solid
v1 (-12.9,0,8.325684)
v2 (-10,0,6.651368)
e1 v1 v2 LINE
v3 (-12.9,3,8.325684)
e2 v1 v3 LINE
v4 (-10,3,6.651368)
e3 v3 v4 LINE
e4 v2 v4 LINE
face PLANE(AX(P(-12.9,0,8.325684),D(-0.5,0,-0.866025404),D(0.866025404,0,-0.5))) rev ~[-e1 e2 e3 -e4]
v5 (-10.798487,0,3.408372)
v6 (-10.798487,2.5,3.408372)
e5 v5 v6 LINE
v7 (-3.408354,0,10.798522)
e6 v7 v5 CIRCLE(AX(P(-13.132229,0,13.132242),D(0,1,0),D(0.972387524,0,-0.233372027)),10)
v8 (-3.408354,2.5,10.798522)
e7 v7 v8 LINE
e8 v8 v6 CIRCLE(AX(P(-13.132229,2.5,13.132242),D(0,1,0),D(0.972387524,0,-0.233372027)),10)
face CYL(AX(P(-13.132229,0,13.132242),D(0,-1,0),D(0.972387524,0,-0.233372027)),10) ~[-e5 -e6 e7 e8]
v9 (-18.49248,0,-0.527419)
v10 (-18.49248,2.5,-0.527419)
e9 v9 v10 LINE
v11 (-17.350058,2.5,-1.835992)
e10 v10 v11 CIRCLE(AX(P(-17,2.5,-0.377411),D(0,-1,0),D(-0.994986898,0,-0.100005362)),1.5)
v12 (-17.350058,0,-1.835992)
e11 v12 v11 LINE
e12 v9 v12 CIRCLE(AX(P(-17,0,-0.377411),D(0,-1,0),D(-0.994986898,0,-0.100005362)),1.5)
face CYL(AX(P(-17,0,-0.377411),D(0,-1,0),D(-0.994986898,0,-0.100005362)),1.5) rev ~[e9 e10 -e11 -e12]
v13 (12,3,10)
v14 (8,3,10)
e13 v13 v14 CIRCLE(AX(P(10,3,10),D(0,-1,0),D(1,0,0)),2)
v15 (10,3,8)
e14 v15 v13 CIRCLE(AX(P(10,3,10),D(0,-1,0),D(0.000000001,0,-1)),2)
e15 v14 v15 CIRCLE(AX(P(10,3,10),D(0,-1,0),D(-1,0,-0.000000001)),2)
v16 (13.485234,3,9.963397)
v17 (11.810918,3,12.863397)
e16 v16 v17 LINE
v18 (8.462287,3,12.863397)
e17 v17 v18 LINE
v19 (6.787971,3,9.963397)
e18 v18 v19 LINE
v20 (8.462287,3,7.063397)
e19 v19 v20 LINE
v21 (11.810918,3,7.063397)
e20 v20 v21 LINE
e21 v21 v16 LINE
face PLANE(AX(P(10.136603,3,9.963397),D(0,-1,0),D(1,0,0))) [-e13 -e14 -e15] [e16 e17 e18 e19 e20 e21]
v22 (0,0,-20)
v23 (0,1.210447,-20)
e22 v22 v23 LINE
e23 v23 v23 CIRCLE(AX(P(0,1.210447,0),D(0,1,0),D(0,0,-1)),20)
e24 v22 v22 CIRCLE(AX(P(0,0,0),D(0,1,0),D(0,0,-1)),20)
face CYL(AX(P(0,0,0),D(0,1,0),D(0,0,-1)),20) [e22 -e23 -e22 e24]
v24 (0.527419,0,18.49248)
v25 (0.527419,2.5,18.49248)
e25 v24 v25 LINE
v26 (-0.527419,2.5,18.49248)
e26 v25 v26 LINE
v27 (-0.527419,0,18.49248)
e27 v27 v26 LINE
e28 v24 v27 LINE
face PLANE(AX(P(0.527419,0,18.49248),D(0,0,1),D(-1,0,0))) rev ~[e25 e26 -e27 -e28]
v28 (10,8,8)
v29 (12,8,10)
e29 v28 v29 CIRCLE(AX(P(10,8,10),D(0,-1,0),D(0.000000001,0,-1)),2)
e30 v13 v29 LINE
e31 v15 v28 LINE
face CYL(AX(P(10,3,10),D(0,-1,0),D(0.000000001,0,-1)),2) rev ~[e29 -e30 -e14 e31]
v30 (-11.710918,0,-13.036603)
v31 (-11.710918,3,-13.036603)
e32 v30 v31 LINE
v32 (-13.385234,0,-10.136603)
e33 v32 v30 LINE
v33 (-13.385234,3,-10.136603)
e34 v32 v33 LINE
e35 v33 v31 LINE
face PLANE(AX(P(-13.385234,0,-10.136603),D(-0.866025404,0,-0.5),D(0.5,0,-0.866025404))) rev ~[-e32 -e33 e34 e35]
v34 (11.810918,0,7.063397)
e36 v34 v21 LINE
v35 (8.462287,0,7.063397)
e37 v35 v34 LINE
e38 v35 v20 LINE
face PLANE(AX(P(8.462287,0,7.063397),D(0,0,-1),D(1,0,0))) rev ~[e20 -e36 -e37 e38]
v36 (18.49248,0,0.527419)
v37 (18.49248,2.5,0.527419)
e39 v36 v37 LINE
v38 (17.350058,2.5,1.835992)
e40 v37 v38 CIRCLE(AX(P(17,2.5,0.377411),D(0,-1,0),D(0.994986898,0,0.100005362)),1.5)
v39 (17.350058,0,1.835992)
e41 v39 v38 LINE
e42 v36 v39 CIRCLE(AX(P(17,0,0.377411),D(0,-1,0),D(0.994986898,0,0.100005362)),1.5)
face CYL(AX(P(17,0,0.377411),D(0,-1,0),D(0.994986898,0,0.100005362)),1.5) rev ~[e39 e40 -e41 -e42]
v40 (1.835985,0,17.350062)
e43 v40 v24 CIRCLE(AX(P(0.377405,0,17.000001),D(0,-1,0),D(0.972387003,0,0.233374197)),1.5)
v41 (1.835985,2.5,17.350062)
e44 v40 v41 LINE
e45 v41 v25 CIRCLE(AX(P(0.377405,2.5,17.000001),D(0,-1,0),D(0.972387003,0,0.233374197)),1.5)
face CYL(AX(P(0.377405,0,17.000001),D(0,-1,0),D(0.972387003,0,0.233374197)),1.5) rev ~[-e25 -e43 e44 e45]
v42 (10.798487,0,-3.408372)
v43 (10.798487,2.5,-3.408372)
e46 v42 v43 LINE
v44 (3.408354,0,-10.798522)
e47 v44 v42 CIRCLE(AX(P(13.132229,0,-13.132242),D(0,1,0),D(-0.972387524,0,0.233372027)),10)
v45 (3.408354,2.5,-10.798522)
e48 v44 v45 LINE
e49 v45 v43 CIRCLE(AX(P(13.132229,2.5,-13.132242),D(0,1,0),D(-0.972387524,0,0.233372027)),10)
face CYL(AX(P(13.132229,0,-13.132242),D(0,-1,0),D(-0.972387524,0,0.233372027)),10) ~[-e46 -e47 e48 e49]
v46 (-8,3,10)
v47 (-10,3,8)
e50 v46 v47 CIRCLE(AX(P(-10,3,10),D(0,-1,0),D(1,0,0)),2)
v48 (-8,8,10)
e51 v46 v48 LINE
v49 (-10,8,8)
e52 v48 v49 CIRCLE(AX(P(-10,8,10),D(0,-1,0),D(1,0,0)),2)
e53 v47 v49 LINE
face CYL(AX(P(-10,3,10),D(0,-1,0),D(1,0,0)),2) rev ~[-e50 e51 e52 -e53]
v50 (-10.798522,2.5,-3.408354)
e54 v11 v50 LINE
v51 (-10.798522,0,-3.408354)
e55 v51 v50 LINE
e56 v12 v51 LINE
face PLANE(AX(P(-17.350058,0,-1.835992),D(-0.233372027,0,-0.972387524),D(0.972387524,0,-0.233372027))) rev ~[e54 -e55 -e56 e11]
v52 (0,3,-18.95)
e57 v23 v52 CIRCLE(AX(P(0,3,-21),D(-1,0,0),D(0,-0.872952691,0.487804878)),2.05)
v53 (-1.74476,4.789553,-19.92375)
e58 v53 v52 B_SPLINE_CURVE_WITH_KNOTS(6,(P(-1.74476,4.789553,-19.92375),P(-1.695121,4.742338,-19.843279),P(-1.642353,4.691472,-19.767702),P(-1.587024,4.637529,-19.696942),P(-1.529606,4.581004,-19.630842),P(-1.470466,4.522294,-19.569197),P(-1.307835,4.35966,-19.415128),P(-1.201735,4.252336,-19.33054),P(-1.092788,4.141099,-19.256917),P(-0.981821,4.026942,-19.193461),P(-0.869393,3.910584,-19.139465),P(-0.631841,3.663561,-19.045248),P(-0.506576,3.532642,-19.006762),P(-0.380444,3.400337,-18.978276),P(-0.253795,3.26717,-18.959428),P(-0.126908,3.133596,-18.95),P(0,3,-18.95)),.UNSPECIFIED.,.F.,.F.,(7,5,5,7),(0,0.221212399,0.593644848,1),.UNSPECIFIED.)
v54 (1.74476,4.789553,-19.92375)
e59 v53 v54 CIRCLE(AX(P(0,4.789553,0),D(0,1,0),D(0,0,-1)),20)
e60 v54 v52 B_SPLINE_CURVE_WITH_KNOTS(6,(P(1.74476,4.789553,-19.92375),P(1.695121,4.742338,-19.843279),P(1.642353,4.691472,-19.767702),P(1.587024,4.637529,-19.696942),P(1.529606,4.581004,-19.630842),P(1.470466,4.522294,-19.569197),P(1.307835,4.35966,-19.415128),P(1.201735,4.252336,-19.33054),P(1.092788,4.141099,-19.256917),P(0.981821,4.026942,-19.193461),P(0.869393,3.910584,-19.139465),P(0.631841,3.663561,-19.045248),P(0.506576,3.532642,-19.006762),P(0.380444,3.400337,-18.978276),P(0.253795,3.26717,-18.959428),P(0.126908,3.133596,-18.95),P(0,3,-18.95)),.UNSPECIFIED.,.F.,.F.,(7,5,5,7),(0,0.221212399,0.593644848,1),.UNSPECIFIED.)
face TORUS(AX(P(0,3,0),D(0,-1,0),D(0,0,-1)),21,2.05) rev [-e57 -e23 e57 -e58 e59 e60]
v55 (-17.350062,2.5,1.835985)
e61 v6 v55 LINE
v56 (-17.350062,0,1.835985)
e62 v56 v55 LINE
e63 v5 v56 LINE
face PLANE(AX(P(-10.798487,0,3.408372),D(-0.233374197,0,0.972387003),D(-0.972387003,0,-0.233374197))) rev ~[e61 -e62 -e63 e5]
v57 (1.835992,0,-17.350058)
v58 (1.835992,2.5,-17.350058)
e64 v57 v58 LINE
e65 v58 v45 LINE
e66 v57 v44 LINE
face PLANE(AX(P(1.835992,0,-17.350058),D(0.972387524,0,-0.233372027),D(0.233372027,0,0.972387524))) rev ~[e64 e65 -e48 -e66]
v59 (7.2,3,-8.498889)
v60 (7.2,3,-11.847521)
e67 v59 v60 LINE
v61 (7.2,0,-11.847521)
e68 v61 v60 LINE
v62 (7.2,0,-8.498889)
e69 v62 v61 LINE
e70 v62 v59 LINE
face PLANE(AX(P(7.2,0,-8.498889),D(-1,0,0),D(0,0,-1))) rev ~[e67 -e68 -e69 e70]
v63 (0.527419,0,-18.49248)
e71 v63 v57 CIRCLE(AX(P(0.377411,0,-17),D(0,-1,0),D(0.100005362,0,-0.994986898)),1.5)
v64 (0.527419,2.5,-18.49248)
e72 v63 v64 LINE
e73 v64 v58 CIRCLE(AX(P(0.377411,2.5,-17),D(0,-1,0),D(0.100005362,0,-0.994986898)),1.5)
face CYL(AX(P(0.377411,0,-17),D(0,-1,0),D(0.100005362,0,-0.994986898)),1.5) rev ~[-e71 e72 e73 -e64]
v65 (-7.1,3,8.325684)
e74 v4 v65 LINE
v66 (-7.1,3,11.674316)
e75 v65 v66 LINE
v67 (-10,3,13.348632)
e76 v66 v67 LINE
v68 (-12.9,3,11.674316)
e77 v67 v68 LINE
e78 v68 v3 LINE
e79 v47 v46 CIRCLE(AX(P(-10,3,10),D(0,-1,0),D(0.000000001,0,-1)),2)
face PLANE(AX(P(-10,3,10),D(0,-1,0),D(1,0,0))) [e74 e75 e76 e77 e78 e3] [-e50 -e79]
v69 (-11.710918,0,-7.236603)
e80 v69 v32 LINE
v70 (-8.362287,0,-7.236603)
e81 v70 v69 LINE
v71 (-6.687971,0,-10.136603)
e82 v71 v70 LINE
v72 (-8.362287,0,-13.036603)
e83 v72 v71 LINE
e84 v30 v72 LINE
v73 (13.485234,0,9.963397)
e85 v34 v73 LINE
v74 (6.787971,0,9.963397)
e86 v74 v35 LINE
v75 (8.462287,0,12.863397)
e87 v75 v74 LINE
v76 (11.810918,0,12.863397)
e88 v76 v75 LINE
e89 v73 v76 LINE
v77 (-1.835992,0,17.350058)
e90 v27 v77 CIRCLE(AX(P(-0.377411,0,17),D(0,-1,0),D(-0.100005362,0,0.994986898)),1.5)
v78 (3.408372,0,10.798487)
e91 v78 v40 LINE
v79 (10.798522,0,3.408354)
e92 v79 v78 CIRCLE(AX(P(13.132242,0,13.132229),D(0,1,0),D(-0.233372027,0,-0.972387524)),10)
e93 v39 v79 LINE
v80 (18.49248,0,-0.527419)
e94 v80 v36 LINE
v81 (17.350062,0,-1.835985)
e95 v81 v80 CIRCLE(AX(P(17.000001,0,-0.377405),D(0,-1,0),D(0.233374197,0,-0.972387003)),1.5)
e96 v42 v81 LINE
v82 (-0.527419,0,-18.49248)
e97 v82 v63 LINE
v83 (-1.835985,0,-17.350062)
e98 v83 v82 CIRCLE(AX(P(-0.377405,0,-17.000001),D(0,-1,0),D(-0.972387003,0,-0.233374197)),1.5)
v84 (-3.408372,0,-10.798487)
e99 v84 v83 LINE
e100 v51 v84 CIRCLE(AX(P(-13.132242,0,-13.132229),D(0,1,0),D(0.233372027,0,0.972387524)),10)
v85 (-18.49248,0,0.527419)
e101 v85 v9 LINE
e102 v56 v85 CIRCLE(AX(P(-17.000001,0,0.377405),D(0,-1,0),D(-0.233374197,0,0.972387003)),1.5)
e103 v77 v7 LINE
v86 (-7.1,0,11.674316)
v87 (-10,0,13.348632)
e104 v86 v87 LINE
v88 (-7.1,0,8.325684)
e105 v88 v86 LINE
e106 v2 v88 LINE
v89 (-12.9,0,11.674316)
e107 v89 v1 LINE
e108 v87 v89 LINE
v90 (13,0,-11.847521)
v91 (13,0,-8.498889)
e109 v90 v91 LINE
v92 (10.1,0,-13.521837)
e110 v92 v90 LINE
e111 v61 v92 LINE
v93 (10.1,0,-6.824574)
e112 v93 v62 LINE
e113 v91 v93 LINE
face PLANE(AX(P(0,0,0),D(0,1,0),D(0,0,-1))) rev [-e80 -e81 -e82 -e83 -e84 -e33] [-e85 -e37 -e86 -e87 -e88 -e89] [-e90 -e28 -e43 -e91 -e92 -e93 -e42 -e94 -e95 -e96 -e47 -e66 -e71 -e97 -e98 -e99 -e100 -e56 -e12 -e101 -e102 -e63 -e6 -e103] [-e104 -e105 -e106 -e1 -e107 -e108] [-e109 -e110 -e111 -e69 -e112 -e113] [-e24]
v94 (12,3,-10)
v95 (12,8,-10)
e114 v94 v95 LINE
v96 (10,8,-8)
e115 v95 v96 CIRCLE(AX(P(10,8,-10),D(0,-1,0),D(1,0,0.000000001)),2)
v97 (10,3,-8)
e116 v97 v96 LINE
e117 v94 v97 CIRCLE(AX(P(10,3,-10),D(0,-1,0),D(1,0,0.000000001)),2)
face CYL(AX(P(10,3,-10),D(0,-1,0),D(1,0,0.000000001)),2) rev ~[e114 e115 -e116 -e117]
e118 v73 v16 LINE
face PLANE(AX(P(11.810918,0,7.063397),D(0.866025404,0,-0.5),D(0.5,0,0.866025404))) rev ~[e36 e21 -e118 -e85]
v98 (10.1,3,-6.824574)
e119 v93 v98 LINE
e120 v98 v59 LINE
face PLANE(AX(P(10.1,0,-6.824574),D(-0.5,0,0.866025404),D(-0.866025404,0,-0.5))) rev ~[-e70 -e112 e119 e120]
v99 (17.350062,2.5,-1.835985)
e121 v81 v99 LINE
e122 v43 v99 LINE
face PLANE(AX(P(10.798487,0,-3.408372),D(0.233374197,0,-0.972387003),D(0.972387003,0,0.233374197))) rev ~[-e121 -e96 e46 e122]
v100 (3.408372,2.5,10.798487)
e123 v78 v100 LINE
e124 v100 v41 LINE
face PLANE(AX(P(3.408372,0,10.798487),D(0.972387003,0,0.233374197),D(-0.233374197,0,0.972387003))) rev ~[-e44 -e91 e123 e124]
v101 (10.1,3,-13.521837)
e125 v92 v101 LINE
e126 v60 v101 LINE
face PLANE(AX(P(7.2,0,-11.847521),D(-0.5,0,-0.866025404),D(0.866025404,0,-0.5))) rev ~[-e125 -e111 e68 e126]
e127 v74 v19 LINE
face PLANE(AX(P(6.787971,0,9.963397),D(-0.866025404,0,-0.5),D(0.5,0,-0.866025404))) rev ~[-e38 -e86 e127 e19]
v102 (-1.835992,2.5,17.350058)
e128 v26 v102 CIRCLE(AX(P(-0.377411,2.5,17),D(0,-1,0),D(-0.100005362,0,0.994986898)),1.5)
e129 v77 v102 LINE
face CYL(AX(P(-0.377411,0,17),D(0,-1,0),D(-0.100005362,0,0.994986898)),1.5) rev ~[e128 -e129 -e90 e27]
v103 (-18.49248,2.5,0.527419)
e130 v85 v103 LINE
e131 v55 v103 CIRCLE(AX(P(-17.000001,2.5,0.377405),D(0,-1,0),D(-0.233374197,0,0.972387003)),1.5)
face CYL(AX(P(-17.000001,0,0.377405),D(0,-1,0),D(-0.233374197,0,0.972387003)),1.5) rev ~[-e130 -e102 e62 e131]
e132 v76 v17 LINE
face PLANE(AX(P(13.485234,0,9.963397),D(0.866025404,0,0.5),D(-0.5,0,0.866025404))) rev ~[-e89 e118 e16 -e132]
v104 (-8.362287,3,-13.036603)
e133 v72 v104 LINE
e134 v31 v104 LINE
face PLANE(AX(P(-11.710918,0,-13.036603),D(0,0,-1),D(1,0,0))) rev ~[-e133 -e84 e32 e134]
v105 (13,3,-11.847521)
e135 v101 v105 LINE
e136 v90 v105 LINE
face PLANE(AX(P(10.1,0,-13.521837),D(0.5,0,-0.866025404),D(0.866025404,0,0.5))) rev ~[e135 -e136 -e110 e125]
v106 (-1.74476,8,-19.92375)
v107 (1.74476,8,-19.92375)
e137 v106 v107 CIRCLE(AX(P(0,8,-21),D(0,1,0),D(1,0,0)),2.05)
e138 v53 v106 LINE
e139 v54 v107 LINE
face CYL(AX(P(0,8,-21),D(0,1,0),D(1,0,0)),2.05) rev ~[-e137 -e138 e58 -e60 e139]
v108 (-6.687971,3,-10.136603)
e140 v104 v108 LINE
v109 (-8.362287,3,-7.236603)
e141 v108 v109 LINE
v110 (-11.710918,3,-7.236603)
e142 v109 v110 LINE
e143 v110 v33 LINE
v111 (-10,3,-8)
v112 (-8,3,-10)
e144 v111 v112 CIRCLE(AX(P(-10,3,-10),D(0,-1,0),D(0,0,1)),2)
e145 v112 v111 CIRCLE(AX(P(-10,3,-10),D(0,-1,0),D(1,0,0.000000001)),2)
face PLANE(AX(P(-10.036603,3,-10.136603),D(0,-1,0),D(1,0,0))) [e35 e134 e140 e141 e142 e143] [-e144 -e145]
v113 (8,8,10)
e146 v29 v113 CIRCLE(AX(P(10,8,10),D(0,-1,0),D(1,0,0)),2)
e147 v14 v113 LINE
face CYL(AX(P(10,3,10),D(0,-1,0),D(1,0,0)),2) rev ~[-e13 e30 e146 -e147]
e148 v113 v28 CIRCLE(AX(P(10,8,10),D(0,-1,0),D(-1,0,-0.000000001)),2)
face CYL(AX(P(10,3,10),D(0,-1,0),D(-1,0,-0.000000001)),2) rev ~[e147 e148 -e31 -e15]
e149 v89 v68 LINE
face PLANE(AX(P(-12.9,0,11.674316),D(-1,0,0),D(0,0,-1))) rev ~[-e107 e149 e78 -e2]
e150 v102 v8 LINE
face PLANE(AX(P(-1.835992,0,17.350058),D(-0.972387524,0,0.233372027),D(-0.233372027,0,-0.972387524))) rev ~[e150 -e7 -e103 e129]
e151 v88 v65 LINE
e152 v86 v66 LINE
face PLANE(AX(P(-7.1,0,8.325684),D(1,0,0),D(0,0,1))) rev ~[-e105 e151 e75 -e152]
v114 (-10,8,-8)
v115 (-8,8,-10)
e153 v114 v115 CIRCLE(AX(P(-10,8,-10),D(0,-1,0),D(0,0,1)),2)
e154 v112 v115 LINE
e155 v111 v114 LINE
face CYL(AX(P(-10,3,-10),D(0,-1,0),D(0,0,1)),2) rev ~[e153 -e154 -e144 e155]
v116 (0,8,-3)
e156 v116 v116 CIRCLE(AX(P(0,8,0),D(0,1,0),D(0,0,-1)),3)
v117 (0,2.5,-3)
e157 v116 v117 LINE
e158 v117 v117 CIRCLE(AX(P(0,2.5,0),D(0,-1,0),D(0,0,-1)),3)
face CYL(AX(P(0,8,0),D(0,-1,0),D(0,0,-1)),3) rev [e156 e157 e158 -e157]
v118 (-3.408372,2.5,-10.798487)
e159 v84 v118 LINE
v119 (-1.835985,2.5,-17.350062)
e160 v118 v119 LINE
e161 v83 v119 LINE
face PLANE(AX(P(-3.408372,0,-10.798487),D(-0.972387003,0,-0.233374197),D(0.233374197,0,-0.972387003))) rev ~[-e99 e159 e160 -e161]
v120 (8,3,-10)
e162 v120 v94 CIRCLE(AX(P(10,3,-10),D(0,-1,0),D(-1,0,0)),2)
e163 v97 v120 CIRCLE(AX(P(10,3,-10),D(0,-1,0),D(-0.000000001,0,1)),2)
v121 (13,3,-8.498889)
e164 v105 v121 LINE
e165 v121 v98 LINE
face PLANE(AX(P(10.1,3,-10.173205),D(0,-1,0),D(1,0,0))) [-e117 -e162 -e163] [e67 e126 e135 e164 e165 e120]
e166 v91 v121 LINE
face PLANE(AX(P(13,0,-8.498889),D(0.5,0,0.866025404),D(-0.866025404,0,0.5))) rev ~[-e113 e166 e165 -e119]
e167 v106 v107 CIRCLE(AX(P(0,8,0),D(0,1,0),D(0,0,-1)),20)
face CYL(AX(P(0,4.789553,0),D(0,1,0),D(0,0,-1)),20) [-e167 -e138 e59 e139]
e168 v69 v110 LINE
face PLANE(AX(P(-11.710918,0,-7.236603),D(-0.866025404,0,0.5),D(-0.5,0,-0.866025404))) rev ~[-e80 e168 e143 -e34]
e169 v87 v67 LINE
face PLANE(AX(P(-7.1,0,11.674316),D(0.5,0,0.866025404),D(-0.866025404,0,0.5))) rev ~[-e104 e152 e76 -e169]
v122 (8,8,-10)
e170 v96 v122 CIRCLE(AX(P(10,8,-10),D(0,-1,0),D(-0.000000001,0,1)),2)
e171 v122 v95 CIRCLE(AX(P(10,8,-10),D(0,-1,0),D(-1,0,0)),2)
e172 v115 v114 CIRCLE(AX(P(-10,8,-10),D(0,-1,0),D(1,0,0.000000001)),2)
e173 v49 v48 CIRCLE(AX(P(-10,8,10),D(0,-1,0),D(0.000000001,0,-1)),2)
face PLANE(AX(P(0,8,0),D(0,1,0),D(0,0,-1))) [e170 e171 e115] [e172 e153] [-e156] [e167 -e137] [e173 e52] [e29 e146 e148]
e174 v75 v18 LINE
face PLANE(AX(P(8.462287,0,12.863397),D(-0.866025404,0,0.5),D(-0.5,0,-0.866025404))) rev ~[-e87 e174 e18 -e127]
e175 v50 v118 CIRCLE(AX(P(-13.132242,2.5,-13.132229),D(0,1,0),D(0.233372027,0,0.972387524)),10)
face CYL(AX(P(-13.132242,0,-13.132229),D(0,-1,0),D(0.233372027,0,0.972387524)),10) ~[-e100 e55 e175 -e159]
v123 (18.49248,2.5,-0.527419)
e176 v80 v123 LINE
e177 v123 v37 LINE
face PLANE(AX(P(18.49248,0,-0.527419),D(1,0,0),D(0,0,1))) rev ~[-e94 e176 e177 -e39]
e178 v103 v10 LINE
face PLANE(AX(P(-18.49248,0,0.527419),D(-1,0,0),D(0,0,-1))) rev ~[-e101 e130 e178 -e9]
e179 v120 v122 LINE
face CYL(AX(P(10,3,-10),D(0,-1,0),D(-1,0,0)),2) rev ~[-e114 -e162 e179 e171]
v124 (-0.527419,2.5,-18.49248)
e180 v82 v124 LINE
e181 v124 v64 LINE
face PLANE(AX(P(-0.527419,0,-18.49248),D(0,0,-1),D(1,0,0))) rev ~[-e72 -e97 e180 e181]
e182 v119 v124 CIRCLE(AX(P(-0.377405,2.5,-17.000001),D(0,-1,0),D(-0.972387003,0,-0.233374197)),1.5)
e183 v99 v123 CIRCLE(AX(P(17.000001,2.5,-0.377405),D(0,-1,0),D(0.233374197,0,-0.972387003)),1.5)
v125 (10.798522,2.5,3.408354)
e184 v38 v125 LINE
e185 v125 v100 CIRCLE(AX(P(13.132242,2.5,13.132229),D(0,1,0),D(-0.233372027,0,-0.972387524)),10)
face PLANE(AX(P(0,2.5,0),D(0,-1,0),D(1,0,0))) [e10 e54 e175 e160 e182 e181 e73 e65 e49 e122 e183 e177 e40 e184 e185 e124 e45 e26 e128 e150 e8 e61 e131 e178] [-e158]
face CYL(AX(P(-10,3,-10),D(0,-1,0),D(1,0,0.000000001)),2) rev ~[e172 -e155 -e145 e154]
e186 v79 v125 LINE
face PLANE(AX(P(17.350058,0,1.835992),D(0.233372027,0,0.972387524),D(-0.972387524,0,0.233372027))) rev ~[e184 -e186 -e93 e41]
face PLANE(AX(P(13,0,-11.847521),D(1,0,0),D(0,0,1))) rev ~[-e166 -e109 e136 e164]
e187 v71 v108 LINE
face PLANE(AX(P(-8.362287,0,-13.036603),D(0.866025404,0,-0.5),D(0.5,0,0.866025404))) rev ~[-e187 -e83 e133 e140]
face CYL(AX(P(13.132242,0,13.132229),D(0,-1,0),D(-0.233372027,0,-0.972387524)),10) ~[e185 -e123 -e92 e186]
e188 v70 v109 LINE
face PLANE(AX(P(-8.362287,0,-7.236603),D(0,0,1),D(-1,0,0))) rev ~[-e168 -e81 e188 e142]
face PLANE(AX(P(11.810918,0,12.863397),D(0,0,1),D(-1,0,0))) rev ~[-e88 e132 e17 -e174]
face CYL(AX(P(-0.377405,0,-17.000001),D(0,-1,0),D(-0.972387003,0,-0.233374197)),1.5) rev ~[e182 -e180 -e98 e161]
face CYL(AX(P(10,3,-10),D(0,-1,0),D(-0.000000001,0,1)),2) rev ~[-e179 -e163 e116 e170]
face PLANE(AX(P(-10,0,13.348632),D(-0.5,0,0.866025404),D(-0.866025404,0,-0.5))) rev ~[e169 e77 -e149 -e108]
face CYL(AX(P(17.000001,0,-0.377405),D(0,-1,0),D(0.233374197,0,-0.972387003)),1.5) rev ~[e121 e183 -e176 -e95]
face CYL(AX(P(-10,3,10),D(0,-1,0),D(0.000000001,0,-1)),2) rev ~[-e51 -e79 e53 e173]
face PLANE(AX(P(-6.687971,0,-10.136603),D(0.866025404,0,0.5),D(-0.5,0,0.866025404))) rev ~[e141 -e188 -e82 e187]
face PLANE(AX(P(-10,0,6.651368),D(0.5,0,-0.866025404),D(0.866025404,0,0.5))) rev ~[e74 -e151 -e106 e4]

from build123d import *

# Parameters (mm, degrees)
CUT_EXTRUDE_1_DEPTH = 2.5
CUT_EXTRUDE_2_DEPTH = 3
CUT_EXTRUDE_4_DEPTH = 29.722813233
SKETCH_8_R          = 2.05
CUT_EXTRUDE_6_DEPTH = 5


with BuildPart() as part:
    # 草图2 → 旋转1 (revolve)
    with BuildSketch(Plane.XY, mode=Mode.PRIVATE) as revolve_1_sk:
        with BuildLine():
            Line((3, 8), (3, 0))
            Line((3, 0), (20, 0))
            Line((20, 0), (20, 1.210446983))
            ThreePointArc((20, 1.210446983), (18.95, 3), (20, 4.789553017))
            Line((20, 4.789553017), (20, 8))
            Line((20, 8), (3, 8))
        make_face()
    revolve(revolve_1_sk.sketch.rotate(Axis((0, 0, 0), (0, 1, 0)), 90), axis=Axis((0, 0, 0), (0, 1, 0)))

    # 草图3 → 切除-拉伸1 (cut)
    with BuildSketch(Plane.XZ):
        with BuildLine():
            Line((1.835992055, -17.350058041), (3.408354199, -10.798521635))
            ThreePointArc((3.408354199, -10.798521635), (6.061153739, -6.061181984), (10.798487471, -3.408371874))
            Line((10.798487471, -3.408371874), (17.350061912, -1.835985141))
            ThreePointArc((17.350061912, -1.835985141), (18.129967792, -1.363900547), (18.492480347, -0.527418811))
            Line((18.492480347, -0.527418811), (18.492480347, 0.527418811))
            ThreePointArc((18.492480347, 0.527418811), (18.129968102, 1.363905618), (17.350058041, 1.835992055))
            Line((17.350058041, 1.835992055), (10.798521635, 3.408354199))
            ThreePointArc((10.798521635, 3.408354199), (6.061181984, 6.061153739), (3.408371874, 10.798487471))
            Line((3.408371874, 10.798487471), (1.835985141, 17.350061912))
            ThreePointArc((1.835985141, 17.350061912), (1.363900547, 18.129967792), (0.527418811, 18.492480347))
            Line((0.527418811, 18.492480347), (-0.527418811, 18.492480347))
            ThreePointArc((-0.527418811, 18.492480347), (-1.363905618, 18.129968102), (-1.835992055, 17.350058041))
            Line((-1.835992055, 17.350058041), (-3.408354199, 10.798521635))
            ThreePointArc((-3.408354199, 10.798521635), (-6.061153739, 6.061181984), (-10.798487471, 3.408371874))
            Line((-10.798487471, 3.408371874), (-17.350061912, 1.835985141))
            ThreePointArc((-17.350061912, 1.835985141), (-18.129967792, 1.363900547), (-18.492480347, 0.527418811))
            Line((-18.492480347, 0.527418811), (-18.492480347, -0.527418811))
            ThreePointArc((-18.492480347, -0.527418811), (-18.129968102, -1.363905618), (-17.350058041, -1.835992055))
            Line((-17.350058041, -1.835992055), (-10.798521635, -3.408354199))
            ThreePointArc((-10.798521635, -3.408354199), (-6.061181984, -6.061153739), (-3.408371874, -10.798487471))
            Line((-3.408371874, -10.798487471), (-1.835985141, -17.350061912))
            ThreePointArc((-1.835985141, -17.350061912), (-1.363900547, -18.129967792), (-0.527418811, -18.492480347))
            Line((-0.527418811, -18.492480347), (0.527418811, -18.492480347))
            ThreePointArc((0.527418811, -18.492480347), (1.363905618, -18.129968102), (1.835992055, -17.350058041))
        make_face()
    extrude(amount=-CUT_EXTRUDE_1_DEPTH, mode=Mode.SUBTRACT)

    # 草图4 → 切除-拉伸2 (cut)
    with BuildSketch(Plane.XZ):
        Polygon((13.485234102, 9.96339746), (11.810918321, 12.86339746), (8.46228676, 12.86339746), (6.787970979, 9.96339746), (8.46228676, 7.06339746), (11.810918321, 7.06339746), align=None)
        Polygon((-10, 13.348631561), (-12.9, 11.674315781), (-12.9, 8.325684219), (-10, 6.651368439), (-7.1, 8.325684219), (-7.1, 11.674315781), align=None)
        Polygon((10.1, -13.521836642), (13, -11.847520861), (13, -8.4988893), (10.1, -6.824573519), (7.2, -8.4988893), (7.2, -11.847520861), align=None)
        Polygon((-13.385234102, -10.13660254), (-11.710918321, -13.03660254), (-8.36228676, -13.03660254), (-6.687970979, -10.13660254), (-8.36228676, -7.23660254), (-11.710918321, -7.23660254), align=None)
    extrude(amount=-CUT_EXTRUDE_2_DEPTH, mode=Mode.SUBTRACT)

    # 草图6 → 切除-拉伸4 (cut, through all)
    with BuildSketch(Plane.XZ.offset(-3)):
        with BuildLine():
            Line((-10, -8), (-10, -10))
            Line((-10, -10), (-8, -10))
            ThreePointArc((-8, -10), (-8.585786438, -8.585786438), (-10, -8))
        make_face()
        with BuildLine():
            Line((-8, -10), (-10, -10))
            Line((-10, -10), (-10, -8))
            ThreePointArc((-10, -8), (-11.414213562, -11.414213562), (-8, -10))
        make_face()
        with BuildLine():
            ThreePointArc((-8, 10), (-11.414213562, 11.414213562), (-10, 8))
            Line((-10, 8), (-10, 10))
            Line((-10, 10), (-8, 10))
        make_face()
        with BuildLine():
            Line((-10, 10), (-10, 8))
            ThreePointArc((-10, 8), (-8.585786438, 8.585786438), (-8, 10))
            Line((-8, 10), (-10, 10))
        make_face()
        with BuildLine():
            ThreePointArc((8, 10), (8.585786438, 8.585786438), (10, 8))
            Line((10, 8), (10, 10))
            Line((10, 10), (8, 10))
        make_face()
        with BuildLine():
            Line((10, 10), (10, 8))
            ThreePointArc((10, 8), (11.414213562, 8.585786438), (12, 10))
            ThreePointArc((12, 10), (10, 12), (8, 10))
            Line((8, 10), (10, 10))
        make_face()
        with BuildLine():
            ThreePointArc((10, -8), (8.585786438, -8.585786438), (8, -10))
            Line((8, -10), (10, -10))
            Line((10, -10), (10, -8))
        make_face()
        with BuildLine():
            Line((10, -10), (8, -10))
            ThreePointArc((8, -10), (10, -12), (12, -10))
            ThreePointArc((12, -10), (11.414213562, -8.585786438), (10, -8))
            Line((10, -8), (10, -10))
        make_face()
    extrude(amount=-CUT_EXTRUDE_4_DEPTH, mode=Mode.SUBTRACT)

    # 草图8 → 切除-拉伸6 (cut)
    with BuildSketch(Plane(origin=(0, 8, 0), x_dir=(1, 0, 0), z_dir=(0, 1, 0))):
        with Locations((0, 21)):
            Circle(SKETCH_8_R)
    extrude(amount=-CUT_EXTRUDE_6_DEPTH, mode=Mode.SUBTRACT)


solid = part.part
